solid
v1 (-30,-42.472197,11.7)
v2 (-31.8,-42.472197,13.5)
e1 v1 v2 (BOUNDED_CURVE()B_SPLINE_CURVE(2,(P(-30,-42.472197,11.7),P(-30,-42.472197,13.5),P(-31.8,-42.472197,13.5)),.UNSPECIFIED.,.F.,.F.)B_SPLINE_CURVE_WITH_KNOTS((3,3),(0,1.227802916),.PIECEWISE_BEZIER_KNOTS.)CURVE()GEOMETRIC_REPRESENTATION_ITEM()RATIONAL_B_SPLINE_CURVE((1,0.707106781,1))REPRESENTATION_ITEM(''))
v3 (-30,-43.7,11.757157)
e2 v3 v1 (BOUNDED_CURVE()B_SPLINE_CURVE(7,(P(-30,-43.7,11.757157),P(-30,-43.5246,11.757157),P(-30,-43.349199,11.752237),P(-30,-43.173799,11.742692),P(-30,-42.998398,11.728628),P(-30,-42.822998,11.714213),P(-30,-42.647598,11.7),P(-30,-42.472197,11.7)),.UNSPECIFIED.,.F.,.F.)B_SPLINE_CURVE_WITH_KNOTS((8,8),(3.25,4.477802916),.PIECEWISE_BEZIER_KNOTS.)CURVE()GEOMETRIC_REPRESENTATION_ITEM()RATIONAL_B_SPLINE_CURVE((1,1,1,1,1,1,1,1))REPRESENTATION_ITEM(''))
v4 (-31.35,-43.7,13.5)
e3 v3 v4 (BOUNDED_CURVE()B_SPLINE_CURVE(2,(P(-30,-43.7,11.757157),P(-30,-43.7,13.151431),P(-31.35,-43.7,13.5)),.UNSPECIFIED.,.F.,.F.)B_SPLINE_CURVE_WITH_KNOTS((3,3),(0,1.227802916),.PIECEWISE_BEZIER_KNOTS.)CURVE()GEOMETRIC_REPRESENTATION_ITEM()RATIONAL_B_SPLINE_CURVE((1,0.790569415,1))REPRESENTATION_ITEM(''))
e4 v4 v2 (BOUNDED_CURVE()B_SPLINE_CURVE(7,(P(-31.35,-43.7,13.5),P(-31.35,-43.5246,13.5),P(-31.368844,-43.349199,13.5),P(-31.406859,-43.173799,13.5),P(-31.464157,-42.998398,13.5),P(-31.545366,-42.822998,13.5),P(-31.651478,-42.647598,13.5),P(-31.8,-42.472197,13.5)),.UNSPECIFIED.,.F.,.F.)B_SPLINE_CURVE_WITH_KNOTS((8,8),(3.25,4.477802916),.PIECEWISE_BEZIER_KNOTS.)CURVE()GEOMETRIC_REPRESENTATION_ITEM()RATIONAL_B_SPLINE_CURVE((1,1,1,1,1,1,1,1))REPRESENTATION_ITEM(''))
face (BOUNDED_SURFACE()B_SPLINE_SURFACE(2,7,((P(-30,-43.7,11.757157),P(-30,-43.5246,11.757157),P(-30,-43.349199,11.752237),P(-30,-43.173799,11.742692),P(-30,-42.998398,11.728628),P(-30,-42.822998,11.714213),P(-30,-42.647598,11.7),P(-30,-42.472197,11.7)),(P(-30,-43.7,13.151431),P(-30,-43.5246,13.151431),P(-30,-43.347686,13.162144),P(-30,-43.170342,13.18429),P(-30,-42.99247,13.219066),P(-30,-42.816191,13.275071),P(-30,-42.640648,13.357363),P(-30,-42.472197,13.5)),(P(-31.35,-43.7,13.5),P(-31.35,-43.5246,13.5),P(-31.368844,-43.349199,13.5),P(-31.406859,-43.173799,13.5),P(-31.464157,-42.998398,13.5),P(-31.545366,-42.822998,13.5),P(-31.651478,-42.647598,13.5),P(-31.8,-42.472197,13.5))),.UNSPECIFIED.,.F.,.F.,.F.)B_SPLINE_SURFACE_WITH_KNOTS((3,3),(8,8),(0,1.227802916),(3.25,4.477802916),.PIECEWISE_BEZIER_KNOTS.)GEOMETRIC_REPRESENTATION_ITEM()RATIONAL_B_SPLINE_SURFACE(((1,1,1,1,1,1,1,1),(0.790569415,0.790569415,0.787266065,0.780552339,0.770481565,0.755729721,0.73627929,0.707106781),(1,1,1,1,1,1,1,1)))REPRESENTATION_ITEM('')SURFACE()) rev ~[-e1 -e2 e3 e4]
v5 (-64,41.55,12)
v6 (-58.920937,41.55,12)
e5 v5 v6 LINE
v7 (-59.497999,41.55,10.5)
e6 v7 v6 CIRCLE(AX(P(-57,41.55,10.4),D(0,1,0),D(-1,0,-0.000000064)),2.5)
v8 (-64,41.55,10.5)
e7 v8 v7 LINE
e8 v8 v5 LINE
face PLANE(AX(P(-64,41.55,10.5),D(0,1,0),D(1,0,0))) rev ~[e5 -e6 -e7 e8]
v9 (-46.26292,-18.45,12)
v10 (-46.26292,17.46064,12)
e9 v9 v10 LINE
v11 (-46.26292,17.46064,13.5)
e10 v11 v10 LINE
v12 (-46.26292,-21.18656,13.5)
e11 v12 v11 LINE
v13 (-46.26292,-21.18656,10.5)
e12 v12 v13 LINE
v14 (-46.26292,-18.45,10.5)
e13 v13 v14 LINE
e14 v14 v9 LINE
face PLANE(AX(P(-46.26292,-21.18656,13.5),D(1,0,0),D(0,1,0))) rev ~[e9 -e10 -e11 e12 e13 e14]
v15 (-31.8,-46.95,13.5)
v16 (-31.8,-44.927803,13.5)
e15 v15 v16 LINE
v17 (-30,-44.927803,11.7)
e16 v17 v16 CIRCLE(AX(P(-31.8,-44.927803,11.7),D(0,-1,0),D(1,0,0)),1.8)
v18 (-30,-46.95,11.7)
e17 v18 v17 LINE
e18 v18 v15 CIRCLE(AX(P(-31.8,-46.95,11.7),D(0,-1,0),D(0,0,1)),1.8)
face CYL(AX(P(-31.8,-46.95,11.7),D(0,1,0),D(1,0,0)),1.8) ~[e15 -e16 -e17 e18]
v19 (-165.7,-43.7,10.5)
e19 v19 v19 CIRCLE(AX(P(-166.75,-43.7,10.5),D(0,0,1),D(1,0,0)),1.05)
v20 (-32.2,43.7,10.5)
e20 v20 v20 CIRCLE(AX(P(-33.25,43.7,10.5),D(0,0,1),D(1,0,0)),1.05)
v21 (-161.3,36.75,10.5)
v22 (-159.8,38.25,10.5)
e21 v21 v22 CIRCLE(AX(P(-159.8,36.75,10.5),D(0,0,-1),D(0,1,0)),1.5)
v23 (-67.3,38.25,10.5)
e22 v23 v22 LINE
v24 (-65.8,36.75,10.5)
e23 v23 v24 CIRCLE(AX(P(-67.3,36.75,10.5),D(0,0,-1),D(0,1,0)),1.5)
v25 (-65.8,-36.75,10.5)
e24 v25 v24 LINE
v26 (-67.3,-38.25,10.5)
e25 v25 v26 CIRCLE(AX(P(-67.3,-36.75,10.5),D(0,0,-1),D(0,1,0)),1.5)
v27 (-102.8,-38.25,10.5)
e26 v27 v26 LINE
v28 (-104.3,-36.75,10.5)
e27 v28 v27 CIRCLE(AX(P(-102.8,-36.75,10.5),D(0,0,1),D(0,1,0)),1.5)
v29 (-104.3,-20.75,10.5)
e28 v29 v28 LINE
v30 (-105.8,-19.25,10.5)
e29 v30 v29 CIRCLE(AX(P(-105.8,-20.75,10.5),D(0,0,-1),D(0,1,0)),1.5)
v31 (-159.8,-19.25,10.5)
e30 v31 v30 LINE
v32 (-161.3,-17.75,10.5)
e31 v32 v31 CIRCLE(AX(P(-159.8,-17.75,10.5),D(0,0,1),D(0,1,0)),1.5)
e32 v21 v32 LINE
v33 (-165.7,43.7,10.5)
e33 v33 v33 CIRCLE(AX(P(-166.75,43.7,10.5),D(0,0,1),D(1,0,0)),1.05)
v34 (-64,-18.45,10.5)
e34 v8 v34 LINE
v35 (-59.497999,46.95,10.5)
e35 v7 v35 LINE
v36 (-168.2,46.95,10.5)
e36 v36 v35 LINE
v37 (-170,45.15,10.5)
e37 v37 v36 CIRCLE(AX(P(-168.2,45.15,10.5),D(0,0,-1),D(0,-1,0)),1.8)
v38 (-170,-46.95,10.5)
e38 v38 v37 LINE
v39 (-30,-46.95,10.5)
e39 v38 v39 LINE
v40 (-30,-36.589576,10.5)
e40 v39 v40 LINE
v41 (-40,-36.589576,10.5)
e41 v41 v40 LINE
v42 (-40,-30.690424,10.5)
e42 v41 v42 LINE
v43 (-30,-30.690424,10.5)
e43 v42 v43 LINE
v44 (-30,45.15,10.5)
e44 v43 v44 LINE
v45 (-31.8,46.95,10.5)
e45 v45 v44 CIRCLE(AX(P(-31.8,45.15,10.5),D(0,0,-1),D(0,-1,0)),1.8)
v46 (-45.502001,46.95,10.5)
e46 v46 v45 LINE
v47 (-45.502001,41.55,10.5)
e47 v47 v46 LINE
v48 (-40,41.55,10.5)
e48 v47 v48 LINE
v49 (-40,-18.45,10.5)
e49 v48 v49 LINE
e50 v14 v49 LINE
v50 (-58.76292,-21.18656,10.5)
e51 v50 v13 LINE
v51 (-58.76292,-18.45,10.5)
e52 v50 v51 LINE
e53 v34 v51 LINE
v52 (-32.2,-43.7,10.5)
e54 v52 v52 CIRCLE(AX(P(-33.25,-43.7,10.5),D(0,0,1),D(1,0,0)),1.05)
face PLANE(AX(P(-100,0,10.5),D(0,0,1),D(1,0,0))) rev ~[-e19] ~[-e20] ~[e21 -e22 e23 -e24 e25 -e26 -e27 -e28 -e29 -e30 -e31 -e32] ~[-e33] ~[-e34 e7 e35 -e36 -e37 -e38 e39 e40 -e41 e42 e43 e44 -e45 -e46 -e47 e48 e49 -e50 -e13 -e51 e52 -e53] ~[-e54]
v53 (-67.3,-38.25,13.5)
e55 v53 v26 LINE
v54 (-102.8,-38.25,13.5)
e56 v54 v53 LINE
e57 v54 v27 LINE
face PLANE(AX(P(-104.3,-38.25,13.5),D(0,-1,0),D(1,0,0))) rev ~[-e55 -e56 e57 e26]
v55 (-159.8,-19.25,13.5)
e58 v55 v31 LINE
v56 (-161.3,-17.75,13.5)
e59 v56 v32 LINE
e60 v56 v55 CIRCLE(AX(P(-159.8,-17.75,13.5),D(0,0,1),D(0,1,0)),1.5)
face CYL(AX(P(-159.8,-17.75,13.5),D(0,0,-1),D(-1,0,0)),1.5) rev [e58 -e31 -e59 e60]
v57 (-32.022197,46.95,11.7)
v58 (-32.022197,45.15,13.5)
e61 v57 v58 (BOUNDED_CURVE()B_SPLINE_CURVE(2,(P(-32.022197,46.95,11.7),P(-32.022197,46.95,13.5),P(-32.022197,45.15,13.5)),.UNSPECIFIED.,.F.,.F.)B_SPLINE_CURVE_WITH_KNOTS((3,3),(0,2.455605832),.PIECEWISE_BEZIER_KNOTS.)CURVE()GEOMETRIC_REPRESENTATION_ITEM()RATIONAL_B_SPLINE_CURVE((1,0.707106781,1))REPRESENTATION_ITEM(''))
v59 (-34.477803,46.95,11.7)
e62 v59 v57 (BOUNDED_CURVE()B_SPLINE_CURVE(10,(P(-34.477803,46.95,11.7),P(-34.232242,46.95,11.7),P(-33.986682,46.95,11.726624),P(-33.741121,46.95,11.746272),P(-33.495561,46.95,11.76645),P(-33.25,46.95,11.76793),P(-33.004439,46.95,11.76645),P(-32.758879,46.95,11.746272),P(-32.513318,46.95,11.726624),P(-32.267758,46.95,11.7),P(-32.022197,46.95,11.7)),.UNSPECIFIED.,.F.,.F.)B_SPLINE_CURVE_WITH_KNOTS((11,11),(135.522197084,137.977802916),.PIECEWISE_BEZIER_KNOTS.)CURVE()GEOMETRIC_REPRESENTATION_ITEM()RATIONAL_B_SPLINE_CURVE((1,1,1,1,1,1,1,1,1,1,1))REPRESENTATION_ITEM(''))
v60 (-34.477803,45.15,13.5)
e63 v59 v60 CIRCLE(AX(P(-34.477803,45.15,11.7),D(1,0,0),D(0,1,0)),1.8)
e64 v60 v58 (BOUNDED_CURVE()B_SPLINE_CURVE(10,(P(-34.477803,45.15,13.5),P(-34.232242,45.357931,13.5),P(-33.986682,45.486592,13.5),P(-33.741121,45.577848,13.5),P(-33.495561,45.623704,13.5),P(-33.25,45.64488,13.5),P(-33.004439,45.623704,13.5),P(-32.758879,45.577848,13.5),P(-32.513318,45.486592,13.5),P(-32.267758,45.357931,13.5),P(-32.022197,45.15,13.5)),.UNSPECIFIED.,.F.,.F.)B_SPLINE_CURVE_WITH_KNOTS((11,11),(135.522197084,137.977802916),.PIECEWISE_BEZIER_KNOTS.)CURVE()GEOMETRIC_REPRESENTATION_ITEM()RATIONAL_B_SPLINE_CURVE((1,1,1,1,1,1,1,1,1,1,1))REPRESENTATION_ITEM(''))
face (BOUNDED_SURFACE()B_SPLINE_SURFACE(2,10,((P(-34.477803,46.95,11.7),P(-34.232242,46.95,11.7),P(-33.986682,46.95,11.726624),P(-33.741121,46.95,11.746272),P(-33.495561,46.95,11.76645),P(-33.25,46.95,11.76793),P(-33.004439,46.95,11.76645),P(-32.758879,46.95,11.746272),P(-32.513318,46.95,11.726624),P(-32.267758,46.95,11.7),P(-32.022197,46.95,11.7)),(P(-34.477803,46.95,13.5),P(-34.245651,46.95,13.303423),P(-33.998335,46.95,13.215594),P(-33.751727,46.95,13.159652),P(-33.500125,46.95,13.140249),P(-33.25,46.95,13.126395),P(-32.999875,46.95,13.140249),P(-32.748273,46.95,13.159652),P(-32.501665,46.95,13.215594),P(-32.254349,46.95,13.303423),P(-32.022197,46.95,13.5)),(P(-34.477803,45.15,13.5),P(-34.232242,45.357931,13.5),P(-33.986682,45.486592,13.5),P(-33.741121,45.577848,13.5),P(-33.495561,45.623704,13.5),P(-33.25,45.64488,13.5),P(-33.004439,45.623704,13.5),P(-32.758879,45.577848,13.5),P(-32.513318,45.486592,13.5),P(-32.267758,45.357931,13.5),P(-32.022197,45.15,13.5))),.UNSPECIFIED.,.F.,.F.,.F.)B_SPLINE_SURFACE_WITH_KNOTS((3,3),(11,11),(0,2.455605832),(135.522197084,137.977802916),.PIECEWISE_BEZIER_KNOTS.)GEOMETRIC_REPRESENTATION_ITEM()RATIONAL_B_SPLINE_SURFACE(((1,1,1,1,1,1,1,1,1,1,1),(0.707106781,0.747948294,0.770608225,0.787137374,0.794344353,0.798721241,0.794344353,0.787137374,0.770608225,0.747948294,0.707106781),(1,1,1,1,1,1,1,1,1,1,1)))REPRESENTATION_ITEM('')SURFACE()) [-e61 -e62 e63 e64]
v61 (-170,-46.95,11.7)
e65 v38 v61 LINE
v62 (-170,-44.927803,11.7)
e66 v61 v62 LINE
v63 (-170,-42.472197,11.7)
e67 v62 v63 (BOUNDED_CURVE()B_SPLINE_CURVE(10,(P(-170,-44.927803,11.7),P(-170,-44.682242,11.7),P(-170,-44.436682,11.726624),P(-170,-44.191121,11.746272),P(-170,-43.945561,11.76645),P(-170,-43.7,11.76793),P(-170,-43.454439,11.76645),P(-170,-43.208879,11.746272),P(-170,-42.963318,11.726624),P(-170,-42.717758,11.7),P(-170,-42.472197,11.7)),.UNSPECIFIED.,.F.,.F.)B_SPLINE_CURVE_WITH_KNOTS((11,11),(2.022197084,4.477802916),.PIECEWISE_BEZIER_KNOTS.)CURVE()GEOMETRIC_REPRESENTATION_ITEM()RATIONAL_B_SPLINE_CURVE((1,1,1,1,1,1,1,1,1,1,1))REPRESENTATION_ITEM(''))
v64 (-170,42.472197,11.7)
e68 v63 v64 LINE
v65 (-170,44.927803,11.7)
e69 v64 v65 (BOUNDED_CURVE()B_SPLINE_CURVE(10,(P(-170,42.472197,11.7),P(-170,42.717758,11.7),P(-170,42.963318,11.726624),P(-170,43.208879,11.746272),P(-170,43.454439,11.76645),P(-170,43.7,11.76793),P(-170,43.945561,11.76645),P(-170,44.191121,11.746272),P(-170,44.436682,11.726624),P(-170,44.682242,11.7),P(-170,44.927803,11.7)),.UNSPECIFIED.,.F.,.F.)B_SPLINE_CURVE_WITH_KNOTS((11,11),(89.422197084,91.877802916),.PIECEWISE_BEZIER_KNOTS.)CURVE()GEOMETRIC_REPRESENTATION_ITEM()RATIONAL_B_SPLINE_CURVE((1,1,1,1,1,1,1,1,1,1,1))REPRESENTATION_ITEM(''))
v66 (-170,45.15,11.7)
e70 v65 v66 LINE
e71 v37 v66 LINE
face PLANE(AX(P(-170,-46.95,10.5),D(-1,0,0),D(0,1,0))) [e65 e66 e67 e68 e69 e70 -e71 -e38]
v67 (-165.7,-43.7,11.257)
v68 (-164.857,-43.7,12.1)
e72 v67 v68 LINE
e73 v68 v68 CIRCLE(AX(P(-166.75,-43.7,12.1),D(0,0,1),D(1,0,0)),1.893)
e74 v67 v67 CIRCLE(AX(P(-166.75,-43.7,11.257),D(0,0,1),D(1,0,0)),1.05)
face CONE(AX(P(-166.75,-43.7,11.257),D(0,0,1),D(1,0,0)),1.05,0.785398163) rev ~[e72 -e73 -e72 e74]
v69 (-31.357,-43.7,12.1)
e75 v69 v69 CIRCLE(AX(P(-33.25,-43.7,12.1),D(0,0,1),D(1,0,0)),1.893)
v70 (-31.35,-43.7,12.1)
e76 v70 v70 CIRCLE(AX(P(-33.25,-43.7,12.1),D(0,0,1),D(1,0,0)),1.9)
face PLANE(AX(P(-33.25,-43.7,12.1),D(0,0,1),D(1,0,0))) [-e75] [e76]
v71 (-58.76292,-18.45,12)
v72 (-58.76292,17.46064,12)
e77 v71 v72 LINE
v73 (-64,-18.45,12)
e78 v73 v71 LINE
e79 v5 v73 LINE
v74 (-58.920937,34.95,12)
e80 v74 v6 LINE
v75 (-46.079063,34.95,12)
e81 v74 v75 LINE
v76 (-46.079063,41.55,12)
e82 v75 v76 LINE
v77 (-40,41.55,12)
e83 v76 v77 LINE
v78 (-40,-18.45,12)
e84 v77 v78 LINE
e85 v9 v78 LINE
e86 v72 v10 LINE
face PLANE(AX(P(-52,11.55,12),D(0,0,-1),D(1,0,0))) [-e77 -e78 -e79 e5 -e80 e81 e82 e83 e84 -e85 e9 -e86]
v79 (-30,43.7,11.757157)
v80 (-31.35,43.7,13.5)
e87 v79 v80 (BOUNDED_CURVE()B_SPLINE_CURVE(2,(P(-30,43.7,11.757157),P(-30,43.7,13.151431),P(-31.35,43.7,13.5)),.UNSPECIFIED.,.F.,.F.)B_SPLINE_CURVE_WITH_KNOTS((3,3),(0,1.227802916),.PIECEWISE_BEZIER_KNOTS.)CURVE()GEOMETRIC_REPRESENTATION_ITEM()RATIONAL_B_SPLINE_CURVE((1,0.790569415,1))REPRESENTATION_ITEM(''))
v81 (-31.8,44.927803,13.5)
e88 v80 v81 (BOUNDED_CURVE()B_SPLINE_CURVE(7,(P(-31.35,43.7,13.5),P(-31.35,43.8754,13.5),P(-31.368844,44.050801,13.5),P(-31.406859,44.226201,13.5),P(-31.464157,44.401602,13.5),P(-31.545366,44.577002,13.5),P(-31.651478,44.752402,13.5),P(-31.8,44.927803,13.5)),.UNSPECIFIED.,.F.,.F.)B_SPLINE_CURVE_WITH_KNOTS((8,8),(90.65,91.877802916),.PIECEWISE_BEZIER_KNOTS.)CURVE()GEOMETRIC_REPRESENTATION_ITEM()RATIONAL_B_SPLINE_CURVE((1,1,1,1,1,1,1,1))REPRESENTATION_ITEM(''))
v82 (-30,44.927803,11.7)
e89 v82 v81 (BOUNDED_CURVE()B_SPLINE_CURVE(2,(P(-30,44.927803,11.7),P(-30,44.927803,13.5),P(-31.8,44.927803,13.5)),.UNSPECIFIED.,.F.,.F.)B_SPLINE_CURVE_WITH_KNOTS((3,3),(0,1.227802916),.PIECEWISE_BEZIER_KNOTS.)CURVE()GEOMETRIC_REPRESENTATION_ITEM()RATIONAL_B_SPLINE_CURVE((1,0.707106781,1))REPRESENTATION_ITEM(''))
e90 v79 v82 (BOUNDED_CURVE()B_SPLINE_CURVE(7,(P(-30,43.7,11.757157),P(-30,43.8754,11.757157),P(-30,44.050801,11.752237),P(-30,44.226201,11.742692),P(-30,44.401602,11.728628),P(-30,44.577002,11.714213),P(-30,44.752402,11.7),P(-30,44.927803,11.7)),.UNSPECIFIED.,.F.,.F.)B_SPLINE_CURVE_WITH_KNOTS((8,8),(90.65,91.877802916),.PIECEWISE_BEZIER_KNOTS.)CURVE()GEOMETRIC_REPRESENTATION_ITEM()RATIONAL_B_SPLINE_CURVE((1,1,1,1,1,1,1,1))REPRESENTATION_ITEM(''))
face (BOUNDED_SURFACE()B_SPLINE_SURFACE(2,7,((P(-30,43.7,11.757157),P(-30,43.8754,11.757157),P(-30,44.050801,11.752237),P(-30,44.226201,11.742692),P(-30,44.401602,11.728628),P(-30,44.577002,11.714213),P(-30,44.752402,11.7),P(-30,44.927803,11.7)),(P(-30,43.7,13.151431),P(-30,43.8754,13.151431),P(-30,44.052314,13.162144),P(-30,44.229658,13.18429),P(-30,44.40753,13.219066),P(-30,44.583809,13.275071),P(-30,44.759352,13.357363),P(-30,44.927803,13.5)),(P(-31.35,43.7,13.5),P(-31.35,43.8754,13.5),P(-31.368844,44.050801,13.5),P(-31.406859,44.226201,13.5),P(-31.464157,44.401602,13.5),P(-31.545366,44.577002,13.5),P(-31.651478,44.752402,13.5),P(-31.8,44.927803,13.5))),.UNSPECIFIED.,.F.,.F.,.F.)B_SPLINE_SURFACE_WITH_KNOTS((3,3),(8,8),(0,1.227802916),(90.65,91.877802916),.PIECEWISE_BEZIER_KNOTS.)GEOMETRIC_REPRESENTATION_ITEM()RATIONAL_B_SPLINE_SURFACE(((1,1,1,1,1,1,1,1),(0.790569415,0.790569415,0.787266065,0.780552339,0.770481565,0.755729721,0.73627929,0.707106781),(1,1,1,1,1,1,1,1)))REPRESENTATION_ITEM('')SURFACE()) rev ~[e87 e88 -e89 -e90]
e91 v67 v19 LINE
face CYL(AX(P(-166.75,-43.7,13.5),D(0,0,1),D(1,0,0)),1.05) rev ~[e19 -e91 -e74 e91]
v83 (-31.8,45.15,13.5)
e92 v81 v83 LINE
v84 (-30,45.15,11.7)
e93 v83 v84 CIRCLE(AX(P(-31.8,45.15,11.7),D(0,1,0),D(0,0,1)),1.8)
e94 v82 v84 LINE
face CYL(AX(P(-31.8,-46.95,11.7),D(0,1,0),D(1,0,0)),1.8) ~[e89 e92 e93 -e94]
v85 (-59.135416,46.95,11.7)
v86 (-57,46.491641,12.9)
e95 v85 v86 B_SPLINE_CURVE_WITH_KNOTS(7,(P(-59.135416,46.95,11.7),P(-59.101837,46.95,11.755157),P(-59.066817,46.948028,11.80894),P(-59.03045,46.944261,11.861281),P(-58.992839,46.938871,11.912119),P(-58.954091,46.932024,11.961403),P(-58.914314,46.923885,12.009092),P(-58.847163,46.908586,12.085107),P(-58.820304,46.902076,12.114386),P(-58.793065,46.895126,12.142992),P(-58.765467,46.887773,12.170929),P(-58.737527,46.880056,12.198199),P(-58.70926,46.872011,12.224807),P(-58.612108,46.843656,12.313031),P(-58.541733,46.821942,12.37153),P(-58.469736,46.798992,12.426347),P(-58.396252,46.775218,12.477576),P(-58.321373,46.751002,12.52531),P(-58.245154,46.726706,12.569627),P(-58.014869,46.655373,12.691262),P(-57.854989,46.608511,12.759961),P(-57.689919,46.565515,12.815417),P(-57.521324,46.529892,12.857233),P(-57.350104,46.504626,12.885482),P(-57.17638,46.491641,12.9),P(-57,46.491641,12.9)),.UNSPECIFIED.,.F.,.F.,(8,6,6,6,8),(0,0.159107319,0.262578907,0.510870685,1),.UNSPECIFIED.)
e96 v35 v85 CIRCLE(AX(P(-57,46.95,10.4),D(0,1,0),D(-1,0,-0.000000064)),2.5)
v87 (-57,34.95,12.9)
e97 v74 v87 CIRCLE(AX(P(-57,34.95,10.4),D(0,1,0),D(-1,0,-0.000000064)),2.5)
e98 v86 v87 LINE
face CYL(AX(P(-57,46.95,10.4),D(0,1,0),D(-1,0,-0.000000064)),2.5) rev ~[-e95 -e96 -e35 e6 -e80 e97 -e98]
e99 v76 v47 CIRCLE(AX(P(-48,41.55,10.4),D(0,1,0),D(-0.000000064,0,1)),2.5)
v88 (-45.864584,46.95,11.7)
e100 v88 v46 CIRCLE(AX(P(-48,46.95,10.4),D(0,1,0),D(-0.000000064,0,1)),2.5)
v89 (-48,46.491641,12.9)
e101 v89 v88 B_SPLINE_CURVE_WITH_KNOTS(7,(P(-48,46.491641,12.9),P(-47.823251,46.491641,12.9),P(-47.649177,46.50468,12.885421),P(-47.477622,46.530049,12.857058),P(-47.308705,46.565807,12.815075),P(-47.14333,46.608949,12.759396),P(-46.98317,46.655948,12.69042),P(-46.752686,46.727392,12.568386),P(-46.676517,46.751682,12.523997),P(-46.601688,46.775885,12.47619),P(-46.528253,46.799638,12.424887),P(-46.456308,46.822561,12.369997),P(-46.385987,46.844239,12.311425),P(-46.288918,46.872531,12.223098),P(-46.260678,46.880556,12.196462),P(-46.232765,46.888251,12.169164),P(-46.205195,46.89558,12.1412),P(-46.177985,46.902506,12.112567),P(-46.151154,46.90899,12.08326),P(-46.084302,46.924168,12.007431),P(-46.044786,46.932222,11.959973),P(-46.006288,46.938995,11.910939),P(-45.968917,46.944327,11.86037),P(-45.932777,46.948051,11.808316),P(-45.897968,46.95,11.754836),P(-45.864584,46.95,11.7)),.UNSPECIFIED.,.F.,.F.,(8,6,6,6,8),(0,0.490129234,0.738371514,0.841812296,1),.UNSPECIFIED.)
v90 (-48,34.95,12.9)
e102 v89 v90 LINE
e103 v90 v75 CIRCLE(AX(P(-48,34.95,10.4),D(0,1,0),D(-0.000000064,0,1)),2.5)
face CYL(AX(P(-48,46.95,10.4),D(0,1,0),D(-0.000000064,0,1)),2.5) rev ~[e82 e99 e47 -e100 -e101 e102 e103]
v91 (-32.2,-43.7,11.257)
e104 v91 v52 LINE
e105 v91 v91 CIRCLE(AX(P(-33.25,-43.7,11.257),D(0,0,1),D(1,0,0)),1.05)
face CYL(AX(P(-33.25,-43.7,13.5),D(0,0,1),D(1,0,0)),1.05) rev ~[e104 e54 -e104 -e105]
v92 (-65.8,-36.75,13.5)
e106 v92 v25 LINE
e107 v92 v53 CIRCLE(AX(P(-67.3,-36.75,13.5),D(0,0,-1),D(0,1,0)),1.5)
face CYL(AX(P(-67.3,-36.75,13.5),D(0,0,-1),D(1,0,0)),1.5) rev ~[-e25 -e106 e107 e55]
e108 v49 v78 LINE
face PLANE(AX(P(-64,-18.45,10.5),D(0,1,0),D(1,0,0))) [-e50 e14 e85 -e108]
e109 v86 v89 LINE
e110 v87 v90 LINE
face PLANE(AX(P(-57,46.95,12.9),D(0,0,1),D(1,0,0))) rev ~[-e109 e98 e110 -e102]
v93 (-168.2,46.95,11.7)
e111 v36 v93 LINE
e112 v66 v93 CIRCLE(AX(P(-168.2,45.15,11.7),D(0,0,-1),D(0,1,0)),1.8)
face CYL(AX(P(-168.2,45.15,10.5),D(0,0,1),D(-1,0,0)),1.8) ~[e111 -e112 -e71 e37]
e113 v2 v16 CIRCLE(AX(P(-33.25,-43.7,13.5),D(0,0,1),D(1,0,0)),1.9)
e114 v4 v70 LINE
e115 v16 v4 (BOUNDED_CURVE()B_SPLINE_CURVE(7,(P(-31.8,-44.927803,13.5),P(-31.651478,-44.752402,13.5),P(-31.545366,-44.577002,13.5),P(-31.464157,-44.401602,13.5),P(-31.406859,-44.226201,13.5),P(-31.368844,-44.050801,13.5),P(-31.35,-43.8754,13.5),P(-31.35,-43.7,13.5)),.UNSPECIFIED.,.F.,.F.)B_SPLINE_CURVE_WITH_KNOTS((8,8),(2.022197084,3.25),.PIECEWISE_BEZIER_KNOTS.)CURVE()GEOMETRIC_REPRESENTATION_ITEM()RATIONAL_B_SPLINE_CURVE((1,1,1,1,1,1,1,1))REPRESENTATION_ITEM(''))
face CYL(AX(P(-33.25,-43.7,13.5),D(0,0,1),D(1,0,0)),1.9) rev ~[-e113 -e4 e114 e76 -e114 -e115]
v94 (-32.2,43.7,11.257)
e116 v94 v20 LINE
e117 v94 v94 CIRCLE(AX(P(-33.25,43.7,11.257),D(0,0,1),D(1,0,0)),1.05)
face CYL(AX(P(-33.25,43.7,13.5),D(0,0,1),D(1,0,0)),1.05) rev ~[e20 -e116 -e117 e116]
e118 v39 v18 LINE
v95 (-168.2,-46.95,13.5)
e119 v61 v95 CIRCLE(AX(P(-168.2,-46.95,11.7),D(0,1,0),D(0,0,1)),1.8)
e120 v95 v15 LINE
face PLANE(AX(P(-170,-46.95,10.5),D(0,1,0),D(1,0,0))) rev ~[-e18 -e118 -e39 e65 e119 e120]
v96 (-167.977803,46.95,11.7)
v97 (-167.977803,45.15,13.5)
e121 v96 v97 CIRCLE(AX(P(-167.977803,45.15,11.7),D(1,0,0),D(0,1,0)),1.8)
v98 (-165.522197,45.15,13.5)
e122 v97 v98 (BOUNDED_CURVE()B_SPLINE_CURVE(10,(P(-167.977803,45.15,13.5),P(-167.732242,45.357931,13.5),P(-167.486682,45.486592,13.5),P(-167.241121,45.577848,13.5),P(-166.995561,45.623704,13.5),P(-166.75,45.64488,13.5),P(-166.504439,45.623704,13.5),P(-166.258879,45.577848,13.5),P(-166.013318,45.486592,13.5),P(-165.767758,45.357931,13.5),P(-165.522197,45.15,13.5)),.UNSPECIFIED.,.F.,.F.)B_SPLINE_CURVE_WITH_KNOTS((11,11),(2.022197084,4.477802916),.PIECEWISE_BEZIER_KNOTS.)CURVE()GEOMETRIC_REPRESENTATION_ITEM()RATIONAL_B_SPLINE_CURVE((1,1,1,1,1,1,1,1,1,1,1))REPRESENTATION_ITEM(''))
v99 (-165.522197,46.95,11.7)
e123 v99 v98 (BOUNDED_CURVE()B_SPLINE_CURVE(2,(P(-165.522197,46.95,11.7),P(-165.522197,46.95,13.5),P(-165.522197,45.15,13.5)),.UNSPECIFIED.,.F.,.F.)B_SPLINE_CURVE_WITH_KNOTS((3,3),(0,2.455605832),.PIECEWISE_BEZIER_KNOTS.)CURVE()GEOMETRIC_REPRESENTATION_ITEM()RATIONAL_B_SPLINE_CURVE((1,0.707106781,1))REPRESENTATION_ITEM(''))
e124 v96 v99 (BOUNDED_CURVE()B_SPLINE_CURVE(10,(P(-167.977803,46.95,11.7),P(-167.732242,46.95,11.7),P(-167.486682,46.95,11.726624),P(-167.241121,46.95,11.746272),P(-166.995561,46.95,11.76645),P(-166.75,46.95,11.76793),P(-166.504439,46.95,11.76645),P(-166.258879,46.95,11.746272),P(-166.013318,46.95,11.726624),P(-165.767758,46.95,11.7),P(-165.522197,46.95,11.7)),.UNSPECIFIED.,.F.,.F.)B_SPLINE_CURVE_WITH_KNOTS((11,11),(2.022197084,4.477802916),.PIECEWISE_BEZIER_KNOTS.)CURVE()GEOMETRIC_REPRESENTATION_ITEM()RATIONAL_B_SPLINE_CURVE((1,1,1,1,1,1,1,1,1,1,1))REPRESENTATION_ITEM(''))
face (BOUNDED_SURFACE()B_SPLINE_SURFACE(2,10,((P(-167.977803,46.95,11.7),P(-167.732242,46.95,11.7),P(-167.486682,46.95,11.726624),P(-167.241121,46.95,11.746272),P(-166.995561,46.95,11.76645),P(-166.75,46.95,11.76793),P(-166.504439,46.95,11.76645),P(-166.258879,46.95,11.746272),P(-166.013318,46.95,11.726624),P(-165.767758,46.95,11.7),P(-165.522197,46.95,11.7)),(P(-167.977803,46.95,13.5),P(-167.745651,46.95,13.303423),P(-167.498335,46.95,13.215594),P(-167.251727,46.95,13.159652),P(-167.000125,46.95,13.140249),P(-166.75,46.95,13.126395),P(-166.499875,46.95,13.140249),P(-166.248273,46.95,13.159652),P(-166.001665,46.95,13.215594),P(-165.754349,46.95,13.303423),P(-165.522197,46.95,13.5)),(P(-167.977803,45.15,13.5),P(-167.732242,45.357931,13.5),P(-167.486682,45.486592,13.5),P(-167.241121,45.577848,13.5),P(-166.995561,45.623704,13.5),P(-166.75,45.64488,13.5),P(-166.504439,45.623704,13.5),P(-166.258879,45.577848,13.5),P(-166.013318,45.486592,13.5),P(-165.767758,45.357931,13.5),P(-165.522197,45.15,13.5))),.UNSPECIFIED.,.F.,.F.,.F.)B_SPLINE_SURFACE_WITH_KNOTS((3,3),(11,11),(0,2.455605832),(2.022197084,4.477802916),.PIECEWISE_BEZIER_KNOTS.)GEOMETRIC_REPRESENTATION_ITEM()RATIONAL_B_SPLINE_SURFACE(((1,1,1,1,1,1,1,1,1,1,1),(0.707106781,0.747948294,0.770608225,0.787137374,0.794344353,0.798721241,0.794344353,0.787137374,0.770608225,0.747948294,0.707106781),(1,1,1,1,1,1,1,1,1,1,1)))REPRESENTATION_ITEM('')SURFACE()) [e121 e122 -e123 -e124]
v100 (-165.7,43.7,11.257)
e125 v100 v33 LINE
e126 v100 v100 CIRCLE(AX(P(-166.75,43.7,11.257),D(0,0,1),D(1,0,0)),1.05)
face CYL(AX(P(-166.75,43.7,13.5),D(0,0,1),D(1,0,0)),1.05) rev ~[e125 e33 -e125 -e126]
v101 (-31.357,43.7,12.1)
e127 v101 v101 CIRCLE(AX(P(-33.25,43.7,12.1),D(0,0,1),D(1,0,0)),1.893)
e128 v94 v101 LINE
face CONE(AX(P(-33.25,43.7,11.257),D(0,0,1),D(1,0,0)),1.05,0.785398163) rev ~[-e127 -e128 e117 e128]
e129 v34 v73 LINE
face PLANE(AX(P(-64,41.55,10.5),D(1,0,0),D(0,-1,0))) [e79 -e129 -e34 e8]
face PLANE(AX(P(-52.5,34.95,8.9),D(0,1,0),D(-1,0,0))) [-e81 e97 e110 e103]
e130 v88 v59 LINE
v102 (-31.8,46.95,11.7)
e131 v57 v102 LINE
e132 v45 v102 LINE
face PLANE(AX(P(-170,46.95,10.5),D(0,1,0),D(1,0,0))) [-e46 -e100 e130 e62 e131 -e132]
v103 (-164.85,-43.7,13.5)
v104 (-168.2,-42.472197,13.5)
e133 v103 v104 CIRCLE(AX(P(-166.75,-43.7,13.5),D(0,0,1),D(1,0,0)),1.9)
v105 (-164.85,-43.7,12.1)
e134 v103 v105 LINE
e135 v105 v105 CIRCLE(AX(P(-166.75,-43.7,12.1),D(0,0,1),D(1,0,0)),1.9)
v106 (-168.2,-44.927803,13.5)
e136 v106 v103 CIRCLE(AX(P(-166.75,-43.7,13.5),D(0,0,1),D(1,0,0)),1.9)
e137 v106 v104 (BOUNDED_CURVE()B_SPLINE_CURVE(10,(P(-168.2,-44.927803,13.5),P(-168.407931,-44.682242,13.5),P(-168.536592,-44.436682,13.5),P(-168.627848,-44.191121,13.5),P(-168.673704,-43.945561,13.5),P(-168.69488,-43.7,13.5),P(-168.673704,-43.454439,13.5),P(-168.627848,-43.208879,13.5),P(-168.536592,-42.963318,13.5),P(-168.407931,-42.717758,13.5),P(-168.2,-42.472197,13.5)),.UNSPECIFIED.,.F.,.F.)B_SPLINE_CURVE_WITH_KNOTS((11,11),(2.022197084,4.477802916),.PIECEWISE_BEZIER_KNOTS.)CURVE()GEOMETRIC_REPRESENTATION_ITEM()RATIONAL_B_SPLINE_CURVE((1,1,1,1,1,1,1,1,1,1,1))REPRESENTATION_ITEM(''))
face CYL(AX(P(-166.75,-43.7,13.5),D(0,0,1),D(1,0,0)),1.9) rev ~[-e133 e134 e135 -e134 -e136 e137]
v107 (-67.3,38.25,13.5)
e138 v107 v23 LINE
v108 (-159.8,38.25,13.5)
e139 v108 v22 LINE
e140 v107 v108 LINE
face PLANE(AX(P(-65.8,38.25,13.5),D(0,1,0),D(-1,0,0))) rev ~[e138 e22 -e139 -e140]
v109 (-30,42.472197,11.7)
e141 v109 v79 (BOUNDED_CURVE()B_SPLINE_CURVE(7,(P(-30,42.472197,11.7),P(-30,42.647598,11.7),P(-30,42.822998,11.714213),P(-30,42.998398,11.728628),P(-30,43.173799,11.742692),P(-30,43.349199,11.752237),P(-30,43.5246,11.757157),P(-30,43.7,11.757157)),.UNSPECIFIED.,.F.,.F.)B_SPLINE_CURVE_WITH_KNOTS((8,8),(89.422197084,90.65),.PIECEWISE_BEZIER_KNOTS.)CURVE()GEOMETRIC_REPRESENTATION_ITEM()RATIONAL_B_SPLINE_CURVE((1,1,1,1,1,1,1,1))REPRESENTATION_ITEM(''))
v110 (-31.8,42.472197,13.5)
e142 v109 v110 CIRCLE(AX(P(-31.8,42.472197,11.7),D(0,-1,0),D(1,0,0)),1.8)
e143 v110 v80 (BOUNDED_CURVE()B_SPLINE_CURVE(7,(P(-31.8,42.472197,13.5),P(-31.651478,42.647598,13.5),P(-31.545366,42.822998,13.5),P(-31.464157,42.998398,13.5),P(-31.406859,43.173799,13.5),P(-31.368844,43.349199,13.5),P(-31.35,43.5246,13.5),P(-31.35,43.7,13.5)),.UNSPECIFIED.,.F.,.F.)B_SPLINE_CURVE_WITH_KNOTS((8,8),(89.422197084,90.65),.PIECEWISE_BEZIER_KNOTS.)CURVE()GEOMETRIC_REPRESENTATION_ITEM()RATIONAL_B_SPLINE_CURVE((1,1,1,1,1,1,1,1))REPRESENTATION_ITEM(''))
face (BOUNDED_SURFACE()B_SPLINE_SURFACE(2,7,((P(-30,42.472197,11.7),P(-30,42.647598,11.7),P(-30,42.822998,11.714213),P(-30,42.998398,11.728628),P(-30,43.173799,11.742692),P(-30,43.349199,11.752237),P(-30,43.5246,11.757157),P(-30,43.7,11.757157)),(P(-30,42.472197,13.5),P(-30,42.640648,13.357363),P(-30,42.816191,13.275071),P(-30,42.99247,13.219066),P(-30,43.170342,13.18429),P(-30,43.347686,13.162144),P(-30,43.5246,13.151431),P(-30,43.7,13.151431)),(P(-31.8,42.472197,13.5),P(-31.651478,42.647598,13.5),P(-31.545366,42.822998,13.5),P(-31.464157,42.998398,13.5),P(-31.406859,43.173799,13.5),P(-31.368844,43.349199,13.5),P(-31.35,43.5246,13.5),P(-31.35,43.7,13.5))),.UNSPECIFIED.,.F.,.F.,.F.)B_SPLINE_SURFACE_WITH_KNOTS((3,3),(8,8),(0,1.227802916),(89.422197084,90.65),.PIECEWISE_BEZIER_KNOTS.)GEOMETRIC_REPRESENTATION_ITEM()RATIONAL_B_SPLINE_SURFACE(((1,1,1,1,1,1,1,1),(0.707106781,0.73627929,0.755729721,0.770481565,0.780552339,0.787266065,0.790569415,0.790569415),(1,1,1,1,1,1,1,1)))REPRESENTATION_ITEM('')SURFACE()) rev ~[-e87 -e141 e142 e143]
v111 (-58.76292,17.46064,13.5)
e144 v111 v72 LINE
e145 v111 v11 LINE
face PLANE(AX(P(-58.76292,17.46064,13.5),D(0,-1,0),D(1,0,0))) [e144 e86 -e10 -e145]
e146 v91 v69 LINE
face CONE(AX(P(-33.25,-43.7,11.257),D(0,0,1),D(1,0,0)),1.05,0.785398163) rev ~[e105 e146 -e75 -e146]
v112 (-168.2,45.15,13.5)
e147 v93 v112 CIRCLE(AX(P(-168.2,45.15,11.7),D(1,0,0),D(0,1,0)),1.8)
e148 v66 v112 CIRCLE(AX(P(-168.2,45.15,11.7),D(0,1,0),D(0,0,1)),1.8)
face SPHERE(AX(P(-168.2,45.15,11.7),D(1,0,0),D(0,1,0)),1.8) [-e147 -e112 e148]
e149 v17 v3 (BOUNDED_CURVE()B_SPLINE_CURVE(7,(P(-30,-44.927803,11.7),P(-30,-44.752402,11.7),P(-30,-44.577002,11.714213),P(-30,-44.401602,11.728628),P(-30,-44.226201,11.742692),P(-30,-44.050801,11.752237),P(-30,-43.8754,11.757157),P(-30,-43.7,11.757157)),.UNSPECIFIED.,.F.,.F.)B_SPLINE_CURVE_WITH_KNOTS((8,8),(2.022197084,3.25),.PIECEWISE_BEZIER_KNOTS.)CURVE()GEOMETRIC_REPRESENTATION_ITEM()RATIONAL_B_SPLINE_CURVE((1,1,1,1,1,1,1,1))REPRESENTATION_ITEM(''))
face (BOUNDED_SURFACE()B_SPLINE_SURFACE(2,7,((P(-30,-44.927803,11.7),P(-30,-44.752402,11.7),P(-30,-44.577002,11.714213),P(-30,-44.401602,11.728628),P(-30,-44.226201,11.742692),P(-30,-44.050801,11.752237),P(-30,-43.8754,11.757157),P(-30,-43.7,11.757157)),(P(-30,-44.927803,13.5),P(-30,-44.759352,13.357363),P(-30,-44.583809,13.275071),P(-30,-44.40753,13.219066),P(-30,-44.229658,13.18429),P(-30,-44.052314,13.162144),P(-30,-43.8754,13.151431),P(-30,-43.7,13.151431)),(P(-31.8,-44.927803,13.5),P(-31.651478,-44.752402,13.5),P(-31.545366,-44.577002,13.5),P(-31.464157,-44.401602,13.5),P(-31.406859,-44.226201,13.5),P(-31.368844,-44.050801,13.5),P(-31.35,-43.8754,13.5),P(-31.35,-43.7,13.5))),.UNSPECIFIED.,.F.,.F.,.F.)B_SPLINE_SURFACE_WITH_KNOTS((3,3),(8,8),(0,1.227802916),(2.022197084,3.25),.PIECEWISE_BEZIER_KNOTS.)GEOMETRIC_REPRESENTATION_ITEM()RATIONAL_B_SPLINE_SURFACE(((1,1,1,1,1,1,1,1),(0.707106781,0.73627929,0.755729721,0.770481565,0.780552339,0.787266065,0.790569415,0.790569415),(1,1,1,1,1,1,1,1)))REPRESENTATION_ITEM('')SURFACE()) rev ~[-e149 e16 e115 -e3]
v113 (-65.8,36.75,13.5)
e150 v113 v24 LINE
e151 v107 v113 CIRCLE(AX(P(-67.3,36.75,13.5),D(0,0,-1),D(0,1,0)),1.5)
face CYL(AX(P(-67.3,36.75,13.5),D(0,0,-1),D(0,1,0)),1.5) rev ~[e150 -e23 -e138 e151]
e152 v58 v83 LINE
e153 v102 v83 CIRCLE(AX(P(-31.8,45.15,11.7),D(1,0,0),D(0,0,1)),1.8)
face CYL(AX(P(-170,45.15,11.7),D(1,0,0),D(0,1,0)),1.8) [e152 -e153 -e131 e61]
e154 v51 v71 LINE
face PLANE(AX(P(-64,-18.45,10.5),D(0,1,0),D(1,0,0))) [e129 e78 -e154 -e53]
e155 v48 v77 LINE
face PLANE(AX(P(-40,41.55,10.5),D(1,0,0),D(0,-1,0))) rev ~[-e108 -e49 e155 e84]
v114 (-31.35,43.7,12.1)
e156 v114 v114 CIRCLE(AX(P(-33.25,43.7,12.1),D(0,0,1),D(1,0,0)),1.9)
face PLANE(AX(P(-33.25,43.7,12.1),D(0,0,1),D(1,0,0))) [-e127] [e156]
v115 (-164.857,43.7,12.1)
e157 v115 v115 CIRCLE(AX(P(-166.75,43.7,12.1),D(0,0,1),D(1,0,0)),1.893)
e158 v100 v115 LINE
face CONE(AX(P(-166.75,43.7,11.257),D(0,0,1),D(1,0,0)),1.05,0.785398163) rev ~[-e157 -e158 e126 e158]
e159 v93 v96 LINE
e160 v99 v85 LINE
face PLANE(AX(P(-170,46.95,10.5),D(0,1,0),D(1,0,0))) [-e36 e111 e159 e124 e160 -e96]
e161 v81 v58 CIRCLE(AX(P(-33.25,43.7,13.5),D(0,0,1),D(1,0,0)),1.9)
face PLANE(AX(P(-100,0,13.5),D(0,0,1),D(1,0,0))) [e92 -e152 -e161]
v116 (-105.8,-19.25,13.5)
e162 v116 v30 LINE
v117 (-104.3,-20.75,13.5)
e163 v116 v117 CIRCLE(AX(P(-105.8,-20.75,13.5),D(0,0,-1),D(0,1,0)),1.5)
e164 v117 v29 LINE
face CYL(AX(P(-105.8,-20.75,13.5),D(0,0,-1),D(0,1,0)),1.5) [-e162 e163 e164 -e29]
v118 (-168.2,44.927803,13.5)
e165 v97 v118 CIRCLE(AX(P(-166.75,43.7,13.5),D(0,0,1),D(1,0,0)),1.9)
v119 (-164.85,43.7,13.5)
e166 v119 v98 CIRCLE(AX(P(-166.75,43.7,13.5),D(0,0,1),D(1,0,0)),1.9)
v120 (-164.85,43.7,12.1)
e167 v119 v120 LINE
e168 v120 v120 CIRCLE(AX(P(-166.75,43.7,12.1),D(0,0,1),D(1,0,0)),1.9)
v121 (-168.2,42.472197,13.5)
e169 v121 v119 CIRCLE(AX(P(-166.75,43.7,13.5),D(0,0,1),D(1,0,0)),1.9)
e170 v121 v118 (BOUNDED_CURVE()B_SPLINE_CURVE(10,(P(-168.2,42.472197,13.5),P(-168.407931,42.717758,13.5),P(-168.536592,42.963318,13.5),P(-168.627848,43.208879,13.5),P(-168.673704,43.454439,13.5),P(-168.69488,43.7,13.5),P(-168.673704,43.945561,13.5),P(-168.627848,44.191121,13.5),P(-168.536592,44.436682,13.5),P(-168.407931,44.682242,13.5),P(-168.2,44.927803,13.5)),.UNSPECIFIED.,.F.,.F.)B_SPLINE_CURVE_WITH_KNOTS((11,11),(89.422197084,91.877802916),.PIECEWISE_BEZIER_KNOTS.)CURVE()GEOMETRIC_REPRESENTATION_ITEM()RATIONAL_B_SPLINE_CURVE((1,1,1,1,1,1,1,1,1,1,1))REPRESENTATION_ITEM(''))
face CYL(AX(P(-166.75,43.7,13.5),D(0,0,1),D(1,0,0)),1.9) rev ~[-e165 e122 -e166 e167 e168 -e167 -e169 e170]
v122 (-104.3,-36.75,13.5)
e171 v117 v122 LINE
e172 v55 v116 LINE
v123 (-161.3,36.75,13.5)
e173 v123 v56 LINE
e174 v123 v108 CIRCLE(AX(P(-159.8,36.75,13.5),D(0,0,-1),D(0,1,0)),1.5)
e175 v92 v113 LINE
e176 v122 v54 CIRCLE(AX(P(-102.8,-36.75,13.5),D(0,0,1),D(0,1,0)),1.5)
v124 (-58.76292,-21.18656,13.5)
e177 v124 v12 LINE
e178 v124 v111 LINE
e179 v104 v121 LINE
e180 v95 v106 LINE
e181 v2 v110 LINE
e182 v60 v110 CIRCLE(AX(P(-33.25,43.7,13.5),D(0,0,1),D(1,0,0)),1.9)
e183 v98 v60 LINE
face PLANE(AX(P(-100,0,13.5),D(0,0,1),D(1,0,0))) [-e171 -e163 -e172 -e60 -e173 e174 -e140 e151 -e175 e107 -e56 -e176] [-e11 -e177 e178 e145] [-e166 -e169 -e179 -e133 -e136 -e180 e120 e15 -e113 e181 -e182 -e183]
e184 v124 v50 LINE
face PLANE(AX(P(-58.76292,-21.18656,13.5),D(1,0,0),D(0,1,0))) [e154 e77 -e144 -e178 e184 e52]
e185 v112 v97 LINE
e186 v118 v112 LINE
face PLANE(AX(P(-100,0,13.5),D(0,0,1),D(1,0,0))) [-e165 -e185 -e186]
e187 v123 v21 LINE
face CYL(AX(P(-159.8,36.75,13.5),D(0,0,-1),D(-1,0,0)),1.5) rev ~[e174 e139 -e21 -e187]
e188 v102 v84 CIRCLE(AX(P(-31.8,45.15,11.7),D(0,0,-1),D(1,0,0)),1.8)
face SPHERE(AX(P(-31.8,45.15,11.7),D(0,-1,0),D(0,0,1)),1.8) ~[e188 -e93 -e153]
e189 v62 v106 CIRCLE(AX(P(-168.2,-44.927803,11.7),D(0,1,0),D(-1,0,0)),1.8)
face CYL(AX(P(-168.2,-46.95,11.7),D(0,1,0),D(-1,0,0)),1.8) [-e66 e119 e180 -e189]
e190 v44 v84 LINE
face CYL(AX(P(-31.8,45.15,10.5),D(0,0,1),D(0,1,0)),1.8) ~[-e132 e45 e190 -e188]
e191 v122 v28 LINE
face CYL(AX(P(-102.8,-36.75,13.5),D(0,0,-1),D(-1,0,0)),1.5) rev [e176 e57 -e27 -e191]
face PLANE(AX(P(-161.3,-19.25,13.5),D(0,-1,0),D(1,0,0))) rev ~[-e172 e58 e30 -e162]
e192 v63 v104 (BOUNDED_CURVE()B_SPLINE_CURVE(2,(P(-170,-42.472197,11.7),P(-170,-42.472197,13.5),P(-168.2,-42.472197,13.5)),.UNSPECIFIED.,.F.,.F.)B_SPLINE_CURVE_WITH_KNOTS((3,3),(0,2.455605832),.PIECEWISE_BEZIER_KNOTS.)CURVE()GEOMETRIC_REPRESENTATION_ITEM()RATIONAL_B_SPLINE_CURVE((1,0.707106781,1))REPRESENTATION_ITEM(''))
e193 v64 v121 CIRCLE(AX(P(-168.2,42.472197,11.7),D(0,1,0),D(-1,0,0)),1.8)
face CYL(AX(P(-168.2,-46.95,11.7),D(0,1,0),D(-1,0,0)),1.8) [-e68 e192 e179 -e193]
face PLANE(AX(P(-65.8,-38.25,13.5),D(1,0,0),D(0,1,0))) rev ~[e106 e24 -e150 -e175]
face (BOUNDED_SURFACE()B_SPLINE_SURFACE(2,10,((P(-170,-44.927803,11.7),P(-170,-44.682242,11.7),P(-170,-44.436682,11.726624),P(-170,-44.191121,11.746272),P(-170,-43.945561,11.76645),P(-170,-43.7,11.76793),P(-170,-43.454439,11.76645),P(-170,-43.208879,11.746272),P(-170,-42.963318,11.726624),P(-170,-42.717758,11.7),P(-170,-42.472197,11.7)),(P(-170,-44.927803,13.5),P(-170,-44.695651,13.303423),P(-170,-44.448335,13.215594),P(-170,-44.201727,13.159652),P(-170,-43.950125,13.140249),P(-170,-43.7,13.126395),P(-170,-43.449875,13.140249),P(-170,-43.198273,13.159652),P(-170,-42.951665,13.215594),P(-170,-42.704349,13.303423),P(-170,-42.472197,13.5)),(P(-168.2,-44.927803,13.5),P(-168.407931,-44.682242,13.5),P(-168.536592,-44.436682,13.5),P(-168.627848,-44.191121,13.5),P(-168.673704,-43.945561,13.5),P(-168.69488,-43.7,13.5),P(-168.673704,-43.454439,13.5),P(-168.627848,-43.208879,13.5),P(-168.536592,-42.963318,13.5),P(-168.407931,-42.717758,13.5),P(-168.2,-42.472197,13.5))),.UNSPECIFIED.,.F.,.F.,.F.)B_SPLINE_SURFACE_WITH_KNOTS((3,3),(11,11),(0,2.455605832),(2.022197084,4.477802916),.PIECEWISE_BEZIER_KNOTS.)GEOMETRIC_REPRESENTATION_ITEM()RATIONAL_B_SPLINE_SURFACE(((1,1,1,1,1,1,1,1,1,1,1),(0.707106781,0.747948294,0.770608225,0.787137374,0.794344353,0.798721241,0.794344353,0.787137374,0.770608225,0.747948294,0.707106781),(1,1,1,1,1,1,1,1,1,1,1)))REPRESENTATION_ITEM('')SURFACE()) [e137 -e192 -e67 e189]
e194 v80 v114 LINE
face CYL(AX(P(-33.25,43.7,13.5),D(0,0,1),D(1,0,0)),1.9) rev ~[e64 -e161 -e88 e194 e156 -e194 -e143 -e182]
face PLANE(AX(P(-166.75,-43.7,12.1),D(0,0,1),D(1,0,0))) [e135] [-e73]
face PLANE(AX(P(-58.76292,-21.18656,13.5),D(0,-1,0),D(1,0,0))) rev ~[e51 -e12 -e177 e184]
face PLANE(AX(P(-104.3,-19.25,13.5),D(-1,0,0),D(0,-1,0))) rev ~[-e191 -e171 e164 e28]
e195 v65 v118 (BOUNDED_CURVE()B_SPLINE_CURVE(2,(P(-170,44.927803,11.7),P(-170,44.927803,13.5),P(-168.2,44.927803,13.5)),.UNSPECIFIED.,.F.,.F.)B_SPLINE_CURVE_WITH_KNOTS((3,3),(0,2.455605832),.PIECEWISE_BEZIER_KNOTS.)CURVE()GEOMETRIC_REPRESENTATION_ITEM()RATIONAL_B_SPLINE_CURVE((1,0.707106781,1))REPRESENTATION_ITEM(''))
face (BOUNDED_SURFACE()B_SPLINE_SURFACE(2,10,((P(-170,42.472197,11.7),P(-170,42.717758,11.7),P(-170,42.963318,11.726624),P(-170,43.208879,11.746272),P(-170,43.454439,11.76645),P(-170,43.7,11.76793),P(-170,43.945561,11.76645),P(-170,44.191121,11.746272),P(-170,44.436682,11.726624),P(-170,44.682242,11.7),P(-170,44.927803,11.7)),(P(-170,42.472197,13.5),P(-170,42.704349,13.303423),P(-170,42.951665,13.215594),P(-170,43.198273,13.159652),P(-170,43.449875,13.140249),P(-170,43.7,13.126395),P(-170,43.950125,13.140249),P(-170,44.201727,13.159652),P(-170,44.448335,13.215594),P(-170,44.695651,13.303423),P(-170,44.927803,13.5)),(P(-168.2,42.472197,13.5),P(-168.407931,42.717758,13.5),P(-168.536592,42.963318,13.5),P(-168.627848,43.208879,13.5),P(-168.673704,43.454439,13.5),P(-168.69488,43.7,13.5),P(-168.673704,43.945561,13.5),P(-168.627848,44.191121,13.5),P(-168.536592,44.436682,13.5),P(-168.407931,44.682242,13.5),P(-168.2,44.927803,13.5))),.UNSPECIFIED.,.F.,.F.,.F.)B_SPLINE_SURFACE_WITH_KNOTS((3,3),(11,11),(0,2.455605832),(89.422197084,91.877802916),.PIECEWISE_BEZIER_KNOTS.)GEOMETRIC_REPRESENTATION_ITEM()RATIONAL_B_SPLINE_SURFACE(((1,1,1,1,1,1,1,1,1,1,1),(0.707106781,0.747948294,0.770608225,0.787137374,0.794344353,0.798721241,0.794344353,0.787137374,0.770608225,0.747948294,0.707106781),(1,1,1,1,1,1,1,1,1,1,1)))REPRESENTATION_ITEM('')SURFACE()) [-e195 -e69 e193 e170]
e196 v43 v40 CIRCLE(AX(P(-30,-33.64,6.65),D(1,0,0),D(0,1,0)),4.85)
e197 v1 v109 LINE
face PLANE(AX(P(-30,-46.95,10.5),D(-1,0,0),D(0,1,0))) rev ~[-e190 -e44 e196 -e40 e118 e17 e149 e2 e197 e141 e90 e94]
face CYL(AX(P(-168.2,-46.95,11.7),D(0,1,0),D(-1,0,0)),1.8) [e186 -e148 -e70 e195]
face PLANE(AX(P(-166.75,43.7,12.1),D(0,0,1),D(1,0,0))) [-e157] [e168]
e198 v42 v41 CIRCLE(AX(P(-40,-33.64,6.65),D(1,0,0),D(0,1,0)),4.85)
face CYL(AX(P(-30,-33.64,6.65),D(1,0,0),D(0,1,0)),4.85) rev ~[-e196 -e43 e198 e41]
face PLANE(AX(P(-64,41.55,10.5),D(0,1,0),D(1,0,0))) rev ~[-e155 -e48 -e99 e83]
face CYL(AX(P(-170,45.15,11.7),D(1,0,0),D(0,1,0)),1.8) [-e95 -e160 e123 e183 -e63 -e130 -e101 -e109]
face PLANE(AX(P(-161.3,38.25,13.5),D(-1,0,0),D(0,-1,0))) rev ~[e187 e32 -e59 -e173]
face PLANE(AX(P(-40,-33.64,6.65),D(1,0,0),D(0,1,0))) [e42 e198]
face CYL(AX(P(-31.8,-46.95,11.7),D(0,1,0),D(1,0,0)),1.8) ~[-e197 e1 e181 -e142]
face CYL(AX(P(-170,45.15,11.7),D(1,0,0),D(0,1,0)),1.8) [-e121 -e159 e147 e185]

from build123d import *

# Parameters (mm, degrees)
SKETCH038_W        = 140
SKETCH038_H        = 93.9
PAD004_DEPTH       = 3
SKETCH039_W        = 12.5
SKETCH039_H        = 38.6472
POCKET028_DEPTH    = 3
SKETCH040_W        = 24
SKETCH040_H        = 60
POCKET029_DEPTH    = 1.5
SKETCH041_R        = 1.05
POCKET030_DEPTH    = 3.001
SKETCH042_R        = 1.9
POCKET031_DEPTH    = 1.4
CHAMFER001_1_ANGLE = 45
CHAMFER001_1_SIZE  = 0.843
CHAMFER001_2_ANGLE = 45
CHAMFER001_2_SIZE  = 0.843
CHAMFER001_3_ANGLE = 45
CHAMFER001_3_SIZE  = 0.843
CHAMFER001_4_ANGLE = 45
CHAMFER001_4_SIZE  = 0.843
FILLET004_R        = 1.5
SKETCH043_R        = 4.85
POCKET032_DEPTH    = 10
FILLET005_R        = 1.8
POCKET033_DEPTH    = 12


with BuildPart() as part:
    # Sketch038 (on XY_Plane154 of Origin468) → Pad004 (new body)
    with BuildSketch(Plane.XY):
        Rectangle(SKETCH038_W, SKETCH038_H)
    extrude(amount=PAD004_DEPTH)

    # Sketch039 (on Face6 of Pad004) → Pocket028 (cut)
    with BuildSketch(Plane.XY.offset(3)):
        Polygon((-61.3, 38.25), (-61.3, -19.25), (-4.3, -19.25), (-4.3, -38.25), (34.2, -38.25), (34.2, 38.25), align=None)
        with Locations((47.48708, -1.86296)):
            Rectangle(SKETCH039_W, SKETCH039_H)
    extrude(amount=-POCKET028_DEPTH, mode=Mode.SUBTRACT)

    # Sketch040 (on Face4 of Pocket028) → Pocket029 (cut)
    with BuildSketch(Plane(origin=(0, 0, 0), x_dir=(1, 0, 0), z_dir=(0, 0, -1))):
        with Locations((48, -11.55)):
            Rectangle(SKETCH040_W, SKETCH040_H)
    extrude(amount=-POCKET029_DEPTH, mode=Mode.SUBTRACT)

    # Sketch041 (on Face5 of Pocket029) → Pocket030 (cut, through all)
    with BuildSketch(Plane.XY.offset(3)):
        with Locations((66.75, 43.7)):
            Circle(SKETCH041_R)
        with Locations((66.75, -43.7)):
            Circle(SKETCH041_R)
        with Locations((-66.75, -43.7)):
            Circle(SKETCH041_R)
        with Locations((-66.75, 43.7)):
            Circle(SKETCH041_R)
    extrude(amount=-POCKET030_DEPTH, mode=Mode.SUBTRACT)

    # Sketch042 (on Face5 of Pocket030) → Pocket031 (cut)
    with BuildSketch(Plane.XY.offset(3)):
        with Locations((-66.75, 43.7)):
            Circle(SKETCH042_R)
        with Locations((66.75, 43.7)):
            Circle(SKETCH042_R)
        with Locations((-66.75, -43.7)):
            Circle(SKETCH042_R)
        with Locations((66.75, -43.7)):
            Circle(SKETCH042_R)
    extrude(amount=-POCKET031_DEPTH, mode=Mode.SUBTRACT)

    # Chamfer001 1
    chamfer001_1_edges = [part.edges().sort_by_distance(p)[0] for p in [
        (-67.8, 43.7, 1.6),
    ]]
    chamfer001_1_side = part.faces().sort_by_distance((-67.8, 43.7, 0.8))[0]
    chamfer(chamfer001_1_edges, length=CHAMFER001_1_SIZE, angle=CHAMFER001_1_ANGLE, reference=chamfer001_1_side)

    # Chamfer001 2
    chamfer001_2_edges = [part.edges().sort_by_distance(p)[0] for p in [
        (65.7, -43.7, 1.6),
    ]]
    chamfer001_2_side = part.faces().sort_by_distance((65.7, -43.7, 0.8))[0]
    chamfer(chamfer001_2_edges, length=CHAMFER001_2_SIZE, angle=CHAMFER001_2_ANGLE, reference=chamfer001_2_side)

    # Chamfer001 3
    chamfer001_3_edges = [part.edges().sort_by_distance(p)[0] for p in [
        (-67.8, -43.7, 1.6),
    ]]
    chamfer001_3_side = part.faces().sort_by_distance((-67.8, -43.7, 0.8))[0]
    chamfer(chamfer001_3_edges, length=CHAMFER001_3_SIZE, angle=CHAMFER001_3_ANGLE, reference=chamfer001_3_side)

    # Chamfer001 4
    chamfer001_4_edges = [part.edges().sort_by_distance(p)[0] for p in [
        (65.7, 43.7, 1.6),
    ]]
    chamfer001_4_side = part.faces().sort_by_distance((65.7, 43.7, 0.8))[0]
    chamfer(chamfer001_4_edges, length=CHAMFER001_4_SIZE, angle=CHAMFER001_4_ANGLE, reference=chamfer001_4_side)

    # Fillet004
    fillet004_edges = [part.edges().sort_by_distance(p)[0] for p in [
        (-4.3, -38.25, 1.5),
        (34.2, -38.25, 1.5),
        (34.2, 38.25, 1.5),
        (-61.3, 38.25, 1.5),
        (-61.3, -19.25, 1.5),
        (-4.3, -19.25, 1.5),
    ]]
    fillet(fillet004_edges, radius=FILLET004_R)

    # Sketch043 (on Face16 of Fillet004) → Pocket032 (cut)
    with BuildSketch(Plane.YZ.offset(70)):
        with Locations((-33.64, -3.85)):
            Circle(SKETCH043_R)
    extrude(amount=-POCKET032_DEPTH, mode=Mode.SUBTRACT)

    # Fillet005
    fillet005_edges = [part.edges().sort_by_distance(p)[0] for p in [
        (70, 0, 3),
        (0, 46.95, 3),
        (70, 46.95, 1.5),
        (-70, 46.95, 1.5),
        (-70, 0, 3),
    ]]
    fillet(fillet005_edges, radius=FILLET005_R)

    # Sketch044 (on Face5 of Fillet005) → Pocket033 (cut)
    with BuildSketch(Plane(origin=(0, 46.95, 0), x_dir=(-1, 0, 0), z_dir=(0, 1, 0))):
        with BuildLine():
            Line((-40.5, -3.1), (-40.5, -0.1))
            ThreePointArc((-40.5, -0.1), (-41.232233, 1.667767), (-43, 2.4))
            Line((-43, 2.4), (-52, 2.4))
            ThreePointArc((-52, 2.4), (-53.767767, 1.667767), (-54.5, -0.1))
            Line((-54.5, -0.1), (-54.5, -3.1))
            ThreePointArc((-54.5, -3.1), (-53.767767, -4.867767), (-52, -5.6))
            Line((-52, -5.6), (-43, -5.6))
            ThreePointArc((-43, -5.6), (-41.232233, -4.867767), (-40.5, -3.1))
        make_face()
    extrude(amount=-POCKET033_DEPTH, mode=Mode.SUBTRACT)


with BuildPart() as part_1:
    # Body003 placement: moved
    add(part.part.moved(Location((-100, 0, 10.5))))


solid = part_1.part
